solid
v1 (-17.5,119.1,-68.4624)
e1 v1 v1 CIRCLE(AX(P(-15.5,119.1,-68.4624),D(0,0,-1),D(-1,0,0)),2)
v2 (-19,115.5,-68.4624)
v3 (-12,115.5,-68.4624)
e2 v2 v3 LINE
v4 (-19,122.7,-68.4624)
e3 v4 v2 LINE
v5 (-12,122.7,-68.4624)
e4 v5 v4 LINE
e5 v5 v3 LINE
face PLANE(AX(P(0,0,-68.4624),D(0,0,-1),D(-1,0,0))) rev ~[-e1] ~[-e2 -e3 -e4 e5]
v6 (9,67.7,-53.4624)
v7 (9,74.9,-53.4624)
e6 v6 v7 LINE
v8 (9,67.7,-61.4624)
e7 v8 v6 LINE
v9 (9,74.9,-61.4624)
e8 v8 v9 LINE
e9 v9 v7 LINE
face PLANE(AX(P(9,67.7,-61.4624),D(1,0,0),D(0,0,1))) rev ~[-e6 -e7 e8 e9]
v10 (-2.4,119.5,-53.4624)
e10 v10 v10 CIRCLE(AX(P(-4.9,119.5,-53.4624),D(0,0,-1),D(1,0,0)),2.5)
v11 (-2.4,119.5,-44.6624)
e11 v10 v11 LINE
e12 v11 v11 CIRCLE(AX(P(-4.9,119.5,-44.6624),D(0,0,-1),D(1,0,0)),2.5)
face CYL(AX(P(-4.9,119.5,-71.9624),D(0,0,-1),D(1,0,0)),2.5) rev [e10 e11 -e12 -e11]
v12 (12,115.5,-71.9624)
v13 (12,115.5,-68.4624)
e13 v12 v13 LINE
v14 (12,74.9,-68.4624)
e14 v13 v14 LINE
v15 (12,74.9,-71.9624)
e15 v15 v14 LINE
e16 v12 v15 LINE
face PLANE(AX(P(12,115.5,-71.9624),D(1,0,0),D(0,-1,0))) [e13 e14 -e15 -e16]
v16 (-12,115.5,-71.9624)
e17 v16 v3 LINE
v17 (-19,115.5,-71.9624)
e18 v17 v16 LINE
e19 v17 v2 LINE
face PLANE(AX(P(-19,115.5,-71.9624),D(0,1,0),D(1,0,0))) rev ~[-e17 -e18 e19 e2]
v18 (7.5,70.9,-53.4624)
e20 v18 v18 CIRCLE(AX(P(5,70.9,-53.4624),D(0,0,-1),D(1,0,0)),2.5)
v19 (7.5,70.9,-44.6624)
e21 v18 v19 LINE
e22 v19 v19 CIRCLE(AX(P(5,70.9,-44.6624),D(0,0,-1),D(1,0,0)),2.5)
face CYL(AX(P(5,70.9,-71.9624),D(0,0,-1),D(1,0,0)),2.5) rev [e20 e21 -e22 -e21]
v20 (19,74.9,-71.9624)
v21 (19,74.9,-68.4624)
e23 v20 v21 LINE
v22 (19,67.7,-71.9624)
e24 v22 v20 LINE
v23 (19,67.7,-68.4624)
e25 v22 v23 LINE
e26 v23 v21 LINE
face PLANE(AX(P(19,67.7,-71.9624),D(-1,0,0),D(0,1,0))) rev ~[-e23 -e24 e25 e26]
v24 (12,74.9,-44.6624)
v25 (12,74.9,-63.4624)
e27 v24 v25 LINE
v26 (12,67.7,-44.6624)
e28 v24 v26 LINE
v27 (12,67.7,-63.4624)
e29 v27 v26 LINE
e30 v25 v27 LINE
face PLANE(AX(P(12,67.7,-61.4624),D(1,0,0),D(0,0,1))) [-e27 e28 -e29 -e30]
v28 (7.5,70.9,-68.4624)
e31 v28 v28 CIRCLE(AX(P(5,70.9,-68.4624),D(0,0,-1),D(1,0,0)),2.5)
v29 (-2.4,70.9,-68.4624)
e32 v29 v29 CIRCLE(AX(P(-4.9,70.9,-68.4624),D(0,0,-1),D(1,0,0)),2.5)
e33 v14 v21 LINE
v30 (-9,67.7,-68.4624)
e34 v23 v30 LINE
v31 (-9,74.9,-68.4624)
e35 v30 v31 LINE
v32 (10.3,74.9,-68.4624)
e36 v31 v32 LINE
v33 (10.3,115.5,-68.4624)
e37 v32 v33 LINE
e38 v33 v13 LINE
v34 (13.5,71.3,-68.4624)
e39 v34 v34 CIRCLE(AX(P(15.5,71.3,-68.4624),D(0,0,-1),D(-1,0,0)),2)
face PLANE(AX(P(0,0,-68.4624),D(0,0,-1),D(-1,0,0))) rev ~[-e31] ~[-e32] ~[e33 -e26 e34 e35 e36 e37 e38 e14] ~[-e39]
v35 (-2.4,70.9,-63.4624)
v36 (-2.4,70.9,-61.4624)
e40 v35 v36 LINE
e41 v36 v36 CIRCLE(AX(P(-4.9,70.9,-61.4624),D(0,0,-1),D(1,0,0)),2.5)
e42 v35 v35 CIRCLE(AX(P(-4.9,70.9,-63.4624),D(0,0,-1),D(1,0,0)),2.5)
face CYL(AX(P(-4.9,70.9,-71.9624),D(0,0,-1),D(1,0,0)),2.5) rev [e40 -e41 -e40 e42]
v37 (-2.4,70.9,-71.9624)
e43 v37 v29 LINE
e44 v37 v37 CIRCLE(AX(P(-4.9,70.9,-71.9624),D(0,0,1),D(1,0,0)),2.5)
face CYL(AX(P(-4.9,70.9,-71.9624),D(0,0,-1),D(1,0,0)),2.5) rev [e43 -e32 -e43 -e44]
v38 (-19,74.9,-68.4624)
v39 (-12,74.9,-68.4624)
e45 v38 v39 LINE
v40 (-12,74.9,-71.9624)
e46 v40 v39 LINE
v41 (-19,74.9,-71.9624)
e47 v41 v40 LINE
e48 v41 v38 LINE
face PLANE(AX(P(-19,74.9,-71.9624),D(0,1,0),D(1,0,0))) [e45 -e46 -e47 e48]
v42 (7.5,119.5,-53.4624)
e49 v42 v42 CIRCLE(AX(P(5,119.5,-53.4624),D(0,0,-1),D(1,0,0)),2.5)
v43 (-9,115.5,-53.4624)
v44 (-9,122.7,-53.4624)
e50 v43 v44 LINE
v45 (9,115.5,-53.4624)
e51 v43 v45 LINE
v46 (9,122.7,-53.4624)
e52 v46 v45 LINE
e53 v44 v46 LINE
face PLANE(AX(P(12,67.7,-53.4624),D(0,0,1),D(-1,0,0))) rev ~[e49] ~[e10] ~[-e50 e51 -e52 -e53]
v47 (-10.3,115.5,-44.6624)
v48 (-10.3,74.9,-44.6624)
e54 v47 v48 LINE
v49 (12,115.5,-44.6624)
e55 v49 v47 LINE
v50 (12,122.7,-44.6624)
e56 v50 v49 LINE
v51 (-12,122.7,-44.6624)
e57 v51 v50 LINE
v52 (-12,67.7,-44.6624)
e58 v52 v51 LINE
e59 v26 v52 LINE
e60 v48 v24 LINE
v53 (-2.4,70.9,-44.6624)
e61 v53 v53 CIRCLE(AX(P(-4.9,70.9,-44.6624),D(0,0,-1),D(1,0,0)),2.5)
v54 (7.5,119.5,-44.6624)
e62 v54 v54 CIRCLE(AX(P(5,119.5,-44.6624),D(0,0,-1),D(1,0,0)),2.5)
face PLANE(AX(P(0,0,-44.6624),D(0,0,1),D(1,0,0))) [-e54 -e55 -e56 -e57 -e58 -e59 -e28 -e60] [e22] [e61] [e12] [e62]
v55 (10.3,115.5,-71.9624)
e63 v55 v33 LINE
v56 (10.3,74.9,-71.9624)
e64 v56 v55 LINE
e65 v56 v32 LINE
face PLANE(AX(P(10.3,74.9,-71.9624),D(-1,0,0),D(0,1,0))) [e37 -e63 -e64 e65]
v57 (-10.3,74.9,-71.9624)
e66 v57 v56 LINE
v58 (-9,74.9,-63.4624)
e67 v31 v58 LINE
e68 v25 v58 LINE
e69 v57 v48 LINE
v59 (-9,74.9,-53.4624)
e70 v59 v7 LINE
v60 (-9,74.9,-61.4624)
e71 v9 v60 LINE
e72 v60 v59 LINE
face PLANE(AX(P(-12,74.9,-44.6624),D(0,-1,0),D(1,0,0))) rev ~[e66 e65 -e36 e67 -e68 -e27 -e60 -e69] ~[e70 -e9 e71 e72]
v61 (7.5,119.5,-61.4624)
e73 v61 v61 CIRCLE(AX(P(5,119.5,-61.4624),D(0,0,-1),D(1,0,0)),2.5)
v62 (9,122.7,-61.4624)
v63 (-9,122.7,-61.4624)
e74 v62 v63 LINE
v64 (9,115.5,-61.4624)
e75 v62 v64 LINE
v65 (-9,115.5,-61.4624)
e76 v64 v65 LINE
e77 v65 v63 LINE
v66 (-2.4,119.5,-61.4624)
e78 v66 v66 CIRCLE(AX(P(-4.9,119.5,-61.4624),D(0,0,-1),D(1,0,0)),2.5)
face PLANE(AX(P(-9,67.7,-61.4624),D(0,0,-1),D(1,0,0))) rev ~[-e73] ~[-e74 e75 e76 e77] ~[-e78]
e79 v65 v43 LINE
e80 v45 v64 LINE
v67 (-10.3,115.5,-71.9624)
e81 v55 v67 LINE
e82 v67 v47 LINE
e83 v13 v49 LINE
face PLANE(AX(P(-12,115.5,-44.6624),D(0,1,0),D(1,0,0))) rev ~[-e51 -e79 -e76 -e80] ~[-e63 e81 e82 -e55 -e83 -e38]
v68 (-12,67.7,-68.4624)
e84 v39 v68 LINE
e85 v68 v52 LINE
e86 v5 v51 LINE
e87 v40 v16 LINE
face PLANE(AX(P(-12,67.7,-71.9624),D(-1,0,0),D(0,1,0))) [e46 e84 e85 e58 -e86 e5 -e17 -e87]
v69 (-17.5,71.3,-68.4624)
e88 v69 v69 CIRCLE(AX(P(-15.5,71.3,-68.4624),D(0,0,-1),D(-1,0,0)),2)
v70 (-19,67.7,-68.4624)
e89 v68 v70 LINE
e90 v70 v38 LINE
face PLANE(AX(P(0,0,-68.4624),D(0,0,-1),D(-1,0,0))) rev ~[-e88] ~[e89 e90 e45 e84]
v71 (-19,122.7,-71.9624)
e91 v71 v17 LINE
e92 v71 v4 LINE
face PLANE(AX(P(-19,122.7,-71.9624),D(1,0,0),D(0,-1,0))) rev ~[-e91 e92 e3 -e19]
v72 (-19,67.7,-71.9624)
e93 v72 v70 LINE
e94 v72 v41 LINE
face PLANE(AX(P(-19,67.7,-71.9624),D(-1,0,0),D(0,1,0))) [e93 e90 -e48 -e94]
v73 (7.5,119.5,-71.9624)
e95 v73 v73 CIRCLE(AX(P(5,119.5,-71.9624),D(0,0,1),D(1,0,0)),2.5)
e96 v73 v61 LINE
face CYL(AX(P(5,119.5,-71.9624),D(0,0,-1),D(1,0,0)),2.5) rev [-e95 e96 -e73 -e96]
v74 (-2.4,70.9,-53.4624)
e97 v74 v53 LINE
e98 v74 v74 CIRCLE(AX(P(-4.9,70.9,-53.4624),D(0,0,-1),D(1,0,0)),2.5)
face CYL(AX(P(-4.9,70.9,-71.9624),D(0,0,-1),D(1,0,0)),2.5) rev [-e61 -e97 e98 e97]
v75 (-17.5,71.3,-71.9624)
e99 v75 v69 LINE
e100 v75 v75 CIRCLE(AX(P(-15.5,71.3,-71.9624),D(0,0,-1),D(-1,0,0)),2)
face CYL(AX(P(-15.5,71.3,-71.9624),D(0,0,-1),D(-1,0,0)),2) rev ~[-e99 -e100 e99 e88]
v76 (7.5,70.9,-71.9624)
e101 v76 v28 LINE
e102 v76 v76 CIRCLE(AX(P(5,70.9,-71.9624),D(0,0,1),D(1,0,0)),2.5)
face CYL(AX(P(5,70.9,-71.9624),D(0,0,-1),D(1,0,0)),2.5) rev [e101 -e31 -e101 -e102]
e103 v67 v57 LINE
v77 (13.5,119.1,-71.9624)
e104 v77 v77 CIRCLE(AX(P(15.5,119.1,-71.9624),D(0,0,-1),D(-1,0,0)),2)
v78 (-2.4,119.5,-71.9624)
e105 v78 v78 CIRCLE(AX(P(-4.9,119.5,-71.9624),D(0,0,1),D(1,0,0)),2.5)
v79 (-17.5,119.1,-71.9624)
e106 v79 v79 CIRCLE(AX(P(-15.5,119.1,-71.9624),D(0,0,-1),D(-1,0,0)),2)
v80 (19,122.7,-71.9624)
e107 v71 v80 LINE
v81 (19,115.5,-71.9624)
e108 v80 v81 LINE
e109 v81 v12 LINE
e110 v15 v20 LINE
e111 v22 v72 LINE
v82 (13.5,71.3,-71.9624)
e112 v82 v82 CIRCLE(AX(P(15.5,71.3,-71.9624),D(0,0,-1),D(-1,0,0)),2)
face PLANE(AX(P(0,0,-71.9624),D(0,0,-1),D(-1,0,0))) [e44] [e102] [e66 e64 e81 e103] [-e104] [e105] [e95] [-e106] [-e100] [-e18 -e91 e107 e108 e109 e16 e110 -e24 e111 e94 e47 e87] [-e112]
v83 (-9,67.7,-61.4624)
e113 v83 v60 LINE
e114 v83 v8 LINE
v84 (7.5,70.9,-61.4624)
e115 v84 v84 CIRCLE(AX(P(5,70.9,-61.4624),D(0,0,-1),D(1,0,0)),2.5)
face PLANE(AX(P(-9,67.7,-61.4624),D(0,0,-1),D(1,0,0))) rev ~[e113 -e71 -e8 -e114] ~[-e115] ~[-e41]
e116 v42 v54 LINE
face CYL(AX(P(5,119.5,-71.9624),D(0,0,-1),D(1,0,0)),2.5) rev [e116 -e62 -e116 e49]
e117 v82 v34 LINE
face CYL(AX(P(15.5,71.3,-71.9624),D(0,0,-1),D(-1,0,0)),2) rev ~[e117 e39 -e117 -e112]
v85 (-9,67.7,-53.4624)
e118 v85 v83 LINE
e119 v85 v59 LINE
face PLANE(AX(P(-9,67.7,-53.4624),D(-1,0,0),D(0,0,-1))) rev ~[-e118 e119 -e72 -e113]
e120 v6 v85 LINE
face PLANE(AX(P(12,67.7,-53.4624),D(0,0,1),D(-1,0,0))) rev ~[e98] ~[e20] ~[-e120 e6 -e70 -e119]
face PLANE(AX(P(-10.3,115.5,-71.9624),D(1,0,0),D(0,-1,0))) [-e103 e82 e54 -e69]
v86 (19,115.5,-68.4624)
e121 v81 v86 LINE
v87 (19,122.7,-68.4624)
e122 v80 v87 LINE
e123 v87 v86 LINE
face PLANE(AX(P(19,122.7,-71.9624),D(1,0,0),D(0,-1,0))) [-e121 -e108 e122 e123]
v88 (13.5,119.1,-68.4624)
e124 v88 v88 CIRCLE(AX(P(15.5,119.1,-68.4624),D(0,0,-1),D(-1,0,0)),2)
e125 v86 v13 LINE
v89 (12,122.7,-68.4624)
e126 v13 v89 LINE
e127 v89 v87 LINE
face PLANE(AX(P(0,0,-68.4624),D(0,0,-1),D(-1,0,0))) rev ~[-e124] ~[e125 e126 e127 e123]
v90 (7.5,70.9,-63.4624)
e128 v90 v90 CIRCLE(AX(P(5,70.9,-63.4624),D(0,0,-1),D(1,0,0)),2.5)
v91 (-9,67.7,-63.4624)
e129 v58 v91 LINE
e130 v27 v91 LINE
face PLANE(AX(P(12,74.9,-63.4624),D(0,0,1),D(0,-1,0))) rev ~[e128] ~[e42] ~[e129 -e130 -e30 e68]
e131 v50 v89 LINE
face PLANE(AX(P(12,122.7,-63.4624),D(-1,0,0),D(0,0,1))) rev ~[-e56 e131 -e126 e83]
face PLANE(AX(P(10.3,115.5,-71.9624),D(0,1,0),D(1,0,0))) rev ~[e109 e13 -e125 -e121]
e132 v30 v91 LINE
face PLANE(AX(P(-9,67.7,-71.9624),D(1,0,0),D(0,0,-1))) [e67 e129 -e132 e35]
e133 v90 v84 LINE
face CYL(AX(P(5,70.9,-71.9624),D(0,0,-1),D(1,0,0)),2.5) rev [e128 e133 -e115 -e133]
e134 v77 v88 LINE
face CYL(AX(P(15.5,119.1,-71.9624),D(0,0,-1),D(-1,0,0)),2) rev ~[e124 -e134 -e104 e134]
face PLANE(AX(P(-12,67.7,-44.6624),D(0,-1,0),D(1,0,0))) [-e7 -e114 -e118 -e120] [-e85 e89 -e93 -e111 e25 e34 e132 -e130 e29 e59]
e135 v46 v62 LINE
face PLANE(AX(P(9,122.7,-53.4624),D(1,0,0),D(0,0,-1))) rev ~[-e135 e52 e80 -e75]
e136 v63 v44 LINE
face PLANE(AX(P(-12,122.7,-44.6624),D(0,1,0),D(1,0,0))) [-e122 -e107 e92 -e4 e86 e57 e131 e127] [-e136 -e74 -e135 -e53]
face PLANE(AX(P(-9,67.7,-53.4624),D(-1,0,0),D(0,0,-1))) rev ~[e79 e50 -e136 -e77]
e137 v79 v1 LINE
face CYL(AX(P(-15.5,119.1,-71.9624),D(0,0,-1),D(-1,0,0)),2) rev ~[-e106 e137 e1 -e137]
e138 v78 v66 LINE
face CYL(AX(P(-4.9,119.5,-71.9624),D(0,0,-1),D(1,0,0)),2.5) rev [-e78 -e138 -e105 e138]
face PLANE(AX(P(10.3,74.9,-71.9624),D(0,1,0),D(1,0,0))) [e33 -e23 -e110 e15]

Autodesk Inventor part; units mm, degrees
ref_plane "YZ Plane" through (0, 0, 0) normal (1, 0, 0) x (0, 1, 0)
ref_plane "XZ Plane" through (0, 0, 0) normal (0, 1, 0) x (-1, 0, 0)
ref_plane "XY Plane" through (0, 0, 0) normal (0, 0, 1) x (1, 0, 0)
ref_plane "작업 평면1" through (0, 0, -71.9624) normal (0, 0, 1) x (1, 0, 0)
sketch "스케치1" plane through (0, 0, -71.9624) normal (0, 0, 1) x (1, 0, 0)
  line L0 (10, 115.2) -> (10, 75.2) construction
  line L1 (-10, 75.2) -> (-10, 115.2) construction
  line L2 (-10, 115.2) -> (10, 115.2) construction
  line L3 (10, 122.7) -> (-10, 122.7) construction
  line L4 (10, 115.2) -> (10, 122.7) construction
  line L5 (-10, 122.7) -> (-10, 115.2) construction
  circle A0 centre (-4.9, 119.5) radius 2.5 construction
  circle A1 centre (5, 119.5) radius 2.5 construction
  circle A2 centre (5, 70.9) radius 2.5 construction
  circle A3 centre (-4.9, 70.9) radius 2.5 construction
  line L6 (10, 75.2) -> (10, 67.7) construction
  line L7 (10, 67.7) -> (-10, 67.7) construction
  line L8 (-10, 67.7) -> (-10, 75.2) construction
  line L9 (10, 115.2) -> (10, 75.2) projected
  line L10 (-10, 75.2) -> (-10, 115.2) projected
  line L11 (-10, 122.7) -> (-10, 115.2) projected
  line L12 (-10, 115.2) -> (10, 115.2) projected
  line L13 (10, 115.2) -> (10, 122.7) projected
  line L14 (10, 122.7) -> (-10, 122.7) projected
  line L15 (-10, 67.7) -> (-10, 75.2) projected
  line L16 (10, 67.7) -> (-10, 67.7) projected
  line L17 (10, 75.2) -> (10, 67.7) projected
  circle A4 centre (-4.9, 70.9) radius 2.5 projected
  circle A5 centre (5, 70.9) radius 2.5 projected
  line L18 (10, 75.2) -> (-10, 75.2) projected
  circle A6 centre (5, 119.5) radius 2.5 projected
  circle A7 centre (-4.9, 119.5) radius 2.5 projected
  point P0 (0, 0)
ref_plane "작업 평면2" through (0, 0, -71.9624) normal (0, 0, 1) x (1, 0, 0)
sketch "스케치2" plane through (0, 0, -71.9624) normal (0, 0, 1) x (1, 0, 0)
  circle A0 centre (0, 170) radius 2 projected
  circle A1 centre (-73.6122, 42.5) radius 2 projected
  circle A2 centre (73.6122, 42.5) radius 2 projected
  line L0 (-175, 220) -> (-175, 200) projected
  line L1 (-175, 200) -> (-130, 200) projected
  line L2 (-130, 200) -> (-130, 105) projected
  line L3 (-130, 105) -> (-175, 105) projected
  line L4 (-175, 105) -> (-175, -105) projected
  line L5 (-175, -105) -> (-130, -105) projected
  line L6 (-130, -105) -> (-130, -200) projected
  line L7 (-130, -200) -> (-175, -200) projected
  line L8 (-175, -200) -> (-175, -220) projected
  arc A3 (-175, -220) -> (-145, -250) centre (-145, -220) ccw projected
  line L9 (-145, -250) -> (145, -250) projected
  arc A4 (145, -250) -> (175, -220) centre (145, -220) ccw projected
  line L10 (175, -220) -> (175, -200) projected
  line L11 (175, -200) -> (130, -200) projected
  line L12 (130, -200) -> (130, -105) projected
  line L13 (130, -105) -> (175, -105) projected
  line L14 (175, -105) -> (175, 105) projected
  line L15 (175, 105) -> (130, 105) projected
  line L16 (130, 105) -> (130, 200) projected
  line L17 (130, 200) -> (175, 200) projected
  line L18 (175, 200) -> (175, 220) projected
  arc A5 (175, 220) -> (145, 250) centre (145, 220) ccw projected
  line L19 (145, 250) -> (-145, 250) projected
  arc A6 (-145, 250) -> (-175, 220) centre (-145, 220) ccw projected
  circle A7 centre (0, 170) radius 2 projected
  circle A8 centre (-73.6122, 42.5) radius 2 projected
  circle A9 centre (73.6122, 42.5) radius 2 projected
  line L20 (-175, 220) -> (-175, 200) projected
  line L21 (-175, 200) -> (-130, 200) projected
  line L22 (-130, 200) -> (-130, 105) projected
  line L23 (-130, 105) -> (-175, 105) projected
  line L24 (-175, 105) -> (-175, -105) projected
  line L25 (-175, -105) -> (-130, -105) projected
  line L26 (-130, -105) -> (-130, -200) projected
  line L27 (-130, -200) -> (-175, -200) projected
  line L28 (-175, -200) -> (-175, -220) projected
  arc A10 (-175, -220) -> (-145, -250) centre (-145, -220) ccw projected
  line L29 (-145, -250) -> (145, -250) projected
  arc A11 (145, -250) -> (175, -220) centre (145, -220) ccw projected
  line L30 (175, -220) -> (175, -200) projected
  line L31 (175, -200) -> (130, -200) projected
  line L32 (130, -200) -> (130, -105) projected
  line L33 (130, -105) -> (175, -105) projected
  line L34 (175, -105) -> (175, 105) projected
  line L35 (175, 105) -> (130, 105) projected
  line L36 (130, 105) -> (130, 200) projected
  line L37 (130, 200) -> (175, 200) projected
  line L38 (175, 200) -> (175, 220) projected
  arc A12 (175, 220) -> (145, 250) centre (145, 220) ccw projected
  line L39 (145, 250) -> (-145, 250) projected
  arc A13 (-145, 250) -> (-175, 220) centre (-145, 220) ccw projected
  circle A14 centre (0, 170) radius 2 projected
  circle A15 centre (-73.6122, 42.5) radius 2 projected
  circle A16 centre (73.6122, 42.5) radius 2 projected
  line L40 (-175, 220) -> (-175, 200) projected
  line L41 (-175, 200) -> (-130, 200) projected
  line L42 (-130, 200) -> (-130, 105) projected
  line L43 (-130, 105) -> (-175, 105) projected
  line L44 (-175, 105) -> (-175, -105) projected
  line L45 (-175, -105) -> (-130, -105) projected
  line L46 (-130, -105) -> (-130, -200) projected
  line L47 (-130, -200) -> (-175, -200) projected
  line L48 (-175, -200) -> (-175, -220) projected
  arc A17 (-175, -220) -> (-145, -250) centre (-145, -220) ccw projected
  line L49 (-145, -250) -> (145, -250) projected
  arc A18 (145, -250) -> (175, -220) centre (145, -220) ccw projected
  line L50 (175, -220) -> (175, -200) projected
  line L51 (175, -200) -> (130, -200) projected
  line L52 (130, -200) -> (130, -105) projected
  line L53 (130, -105) -> (175, -105) projected
  line L54 (175, -105) -> (175, 105) projected
  line L55 (175, 105) -> (130, 105) projected
  line L56 (130, 105) -> (130, 200) projected
  line L57 (130, 200) -> (175, 200) projected
  line L58 (175, 200) -> (175, 220) projected
  arc A19 (175, 220) -> (145, 250) centre (145, 220) ccw projected
  line L59 (145, 250) -> (-145, 250) projected
  arc A20 (-145, 250) -> (-175, 220) centre (-145, 220) ccw projected
  circle A21 centre (-4.9, 70.9) radius 2.5 projected
  circle A22 centre (-4.9, 70.9) radius 2.5 projected
  circle A23 centre (5, 70.9) radius 2.5 projected
  circle A24 centre (5, 119.5) radius 2.5 projected
  circle A25 centre (-4.9, 119.5) radius 2.5 projected
  arc A26 (175, 220) -> (145, 250) centre (145, 220) ccw projected
  line L60 (-145, 250) -> (145, 250) projected
  arc A27 (-145, 250) -> (-175, 220) centre (-145, 220) ccw projected
  line L61 (-175, -220) -> (-175, 220) projected
  arc A28 (-175, -220) -> (-145, -250) centre (-145, -220) ccw projected
  line L62 (145, -250) -> (-145, -250) projected
  arc A29 (145, -250) -> (175, -220) centre (145, -220) ccw projected
  line L63 (175, 220) -> (175, -220) projected
  circle A30 centre (0, -175) radius 36 projected
  circle A31 centre (0, 85) radius 103.75 projected
  line L64 (10, 75.2) -> (-10, 75.2)
  line L65 (-10, 75.2) -> (-10, 115.2)
  line L66 (-10, 115.2) -> (10, 115.2)
  line L67 (10, 115.2) -> (10, 75.2)
  line L68 (10.3, 74.9) -> (10.3, 115.5)
  line L69 (10.3, 115.5) -> (-10.3, 115.5)
  line L70 (-10.3, 115.5) -> (-10.3, 74.9)
  line L71 (-10.3, 74.9) -> (10.3, 74.9)
  line L72 (12, 67.7) -> (-12, 67.7)
  line L73 (-12, 67.7) -> (-12, 122.7)
  line L74 (-12, 122.7) -> (12, 122.7)
  line L75 (12, 122.7) -> (12, 67.7)
  line L76 (10, 95.2) -> (-10, 95.2) construction
  line L77 (0, 95.2) -> (0, 75.2) construction
  line L78 (10.3, 74.9) -> (12, 74.9)
  line L79 (10.3, 115.5) -> (12, 115.5)
  circle A32 centre (-4.9, 119.5) radius 2
  circle A33 centre (5, 119.5) radius 2
  circle A34 centre (-4.9, 70.9) radius 2
  circle A35 centre (5, 70.9) radius 2
  circle A36 centre (-123, 166.7672) radius 2 projected
  circle A37 centre (122.9975, 135.7594) radius 2 projected
  circle A38 centre (97.9975, -135.761) radius 2 projected
  circle A39 centre (15.5, 71.3) radius 2 projected
  circle A40 centre (165.0067, -210) radius 2.5 projected
  circle A41 centre (119.0003, -180.2596) radius 1.25 projected
  circle A42 centre (-119, -122.2672) radius 1.25 projected
  circle A43 centre (-123, -135.7672) radius 2 projected
  circle A44 centre (0.0196, 140) radius 2 projected
  circle A45 centre (-123, -166.7672) radius 2 projected
  circle A46 centre (-70, -122.2672) radius 1.25 projected
  circle A47 centre (69.9966, -122.2627) radius 1.25 projected
  circle A48 centre (-165, 0) radius 2.5 projected
  circle A49 centre (-165.0067, 210) radius 2.5 projected
  circle A50 centre (-15.5, 119.1) radius 2 projected
  circle A51 centre (97.9995, -166.761) radius 2 projected
  circle A52 centre (97.9995, 166.761) radius 2 projected
  circle A53 centre (-98, 166.7672) radius 2 projected
  circle A54 centre (-123, 135.7672) radius 2 projected
  circle A55 centre (97.9975, 135.761) radius 2 projected
  circle A56 centre (122.9975, -135.7594) radius 2 projected
  circle A57 centre (-15.5, 71.3) radius 2 projected
  circle A58 centre (-164.9933, -210) radius 2.5 projected
  circle A59 centre (70.0003, -180.2627) radius 1.25 projected
  circle A60 centre (-119, -180.2672) radius 1.25 projected
  circle A61 centre (-98, -135.7672) radius 2 projected
  circle A62 centre (47.6216, 57.483) radius 2 projected
  circle A63 centre (-47.6412, 57.517) radius 2 projected
  circle A64 centre (-98, -166.7672) radius 2 projected
  circle A65 centre (-70, -180.2672) radius 1.25 projected
  circle A66 centre (118.9966, -122.2596) radius 1.25 projected
  circle A67 centre (165, 0) radius 2.5 projected
  circle A68 centre (164.9933, 210) radius 2.5 projected
  circle A69 centre (15.5, 119.1) radius 2 projected
  circle A70 centre (122.9995, -166.7594) radius 2 projected
  circle A71 centre (122.9995, 166.7594) radius 2 projected
  circle A72 centre (-98, 135.7672) radius 2 projected
  circle A73 centre (-123, 166.7672) radius 2 projected
  circle A74 centre (122.9975, 135.7594) radius 2 projected
  circle A75 centre (97.9975, -135.761) radius 2 projected
  circle A76 centre (15.5, 71.3) radius 2 projected
  circle A77 centre (165.0067, -210) radius 2.5 projected
  circle A78 centre (119.0003, -180.2596) radius 1.25 projected
  circle A79 centre (-119, -122.2672) radius 1.25 projected
  circle A80 centre (-123, -135.7672) radius 2 projected
  circle A81 centre (0.0196, 140) radius 2 projected
  circle A82 centre (-123, -166.7672) radius 2 projected
  circle A83 centre (-70, -122.2672) radius 1.25 projected
  circle A84 centre (69.9966, -122.2627) radius 1.25 projected
  circle A85 centre (-165, 0) radius 2.5 projected
  circle A86 centre (-165.0067, 210) radius 2.5 projected
  circle A87 centre (-15.5, 119.1) radius 2 projected
  circle A88 centre (97.9995, -166.761) radius 2 projected
  circle A89 centre (97.9995, 166.761) radius 2 projected
  circle A90 centre (-98, 166.7672) radius 2 projected
  circle A91 centre (-123, 135.7672) radius 2 projected
  circle A92 centre (97.9975, 135.761) radius 2 projected
  circle A93 centre (122.9975, -135.7594) radius 2 projected
  circle A94 centre (-15.5, 71.3) radius 2 projected
  circle A95 centre (-164.9933, -210) radius 2.5 projected
  circle A96 centre (70.0003, -180.2627) radius 1.25 projected
  circle A97 centre (-119, -180.2672) radius 1.25 projected
  circle A98 centre (-98, -135.7672) radius 2 projected
  circle A99 centre (47.6216, 57.483) radius 2 projected
  circle A100 centre (-47.6412, 57.517) radius 2 projected
  circle A101 centre (-98, -166.7672) radius 2 projected
  circle A102 centre (-70, -180.2672) radius 1.25 projected
  circle A103 centre (118.9966, -122.2596) radius 1.25 projected
  circle A104 centre (165, 0) radius 2.5 projected
  circle A105 centre (164.9933, 210) radius 2.5 projected
  circle A106 centre (15.5, 119.1) radius 2 projected
  circle A107 centre (122.9995, -166.7594) radius 2 projected
  circle A108 centre (122.9995, 166.7594) radius 2 projected
  circle A109 centre (-98, 135.7672) radius 2 projected
  circle A110 centre (-123, 166.7672) radius 2 projected
  circle A111 centre (122.9975, 135.7594) radius 2 projected
  circle A112 centre (97.9975, -135.761) radius 2 projected
  circle A113 centre (15.5, 71.3) radius 2 projected
  circle A114 centre (165.0067, -210) radius 2.5 projected
  circle A115 centre (119.0003, -180.2596) radius 1.25 projected
  circle A116 centre (-119, -122.2672) radius 1.25 projected
  circle A117 centre (-123, -135.7672) radius 2 projected
  circle A118 centre (0.0196, 140) radius 2 projected
  circle A119 centre (-123, -166.7672) radius 2 projected
  circle A120 centre (-70, -122.2672) radius 1.25 projected
  circle A121 centre (69.9966, -122.2627) radius 1.25 projected
  circle A122 centre (-165, 0) radius 2.5 projected
  circle A123 centre (-165.0067, 210) radius 2.5 projected
  circle A124 centre (-15.5, 119.1) radius 2 projected
  circle A125 centre (97.9995, -166.761) radius 2 projected
  circle A126 centre (97.9995, 166.761) radius 2 projected
  circle A127 centre (-98, 166.7672) radius 2 projected
  circle A128 centre (-123, 135.7672) radius 2 projected
  circle A129 centre (97.9975, 135.761) radius 2 projected
  circle A130 centre (122.9975, -135.7594) radius 2 projected
  circle A131 centre (-15.5, 71.3) radius 2 projected
  circle A132 centre (-164.9933, -210) radius 2.5 projected
  circle A133 centre (70.0003, -180.2627) radius 1.25 projected
  circle A134 centre (-119, -180.2672) radius 1.25 projected
  circle A135 centre (-98, -135.7672) radius 2 projected
  circle A136 centre (47.6216, 57.483) radius 2 projected
  circle A137 centre (-47.6412, 57.517) radius 2 projected
  circle A138 centre (-98, -166.7672) radius 2 projected
  circle A139 centre (-70, -180.2672) radius 1.25 projected
  circle A140 centre (118.9966, -122.2596) radius 1.25 projected
  circle A141 centre (165, 0) radius 2.5 projected
  circle A142 centre (164.9933, 210) radius 2.5 projected
  circle A143 centre (15.5, 119.1) radius 2 projected
  circle A144 centre (122.9995, -166.7594) radius 2 projected
  circle A145 centre (122.9995, 166.7594) radius 2 projected
  circle A146 centre (-98, 135.7672) radius 2 projected
  line L80 (-110, 97.5) -> (-93, 97.5) projected
  line L81 (-93, 97.5) -> (-93, 89.5) projected
  line L82 (-93, 89.5) -> (-110, 89.5) projected
  line L83 (-110, 89.5) -> (-110, 97.5) projected
  circle A147 centre (148, -23.75) radius 2 projected
  circle A148 centre (130.626, -27.584) radius 1.5 projected
  circle A149 centre (118.5, 61.5) radius 1.5 projected
  circle A150 centre (-118.5, 61.5) radius 1.5 projected
  circle A151 centre (21, -158.9548) radius 2 projected
  circle A152 centre (-22, -53) radius 2 projected
  circle A153 centre (-49.5, -194.9548) radius 2 projected
  circle A154 centre (-49.5, -158.9548) radius 2 projected
  circle A155 centre (21, -194.9548) radius 2 projected
  circle A156 centre (-155, 25) radius 1.5 projected
  circle A157 centre (118.5, 25) radius 1.5 projected
  circle A158 centre (123.133, -76) radius 1.5 projected
  circle A159 centre (37, -84) radius 2 projected
  line L84 (-93, -89.5) -> (-93, -97.5) projected
  line L85 (-93, -97.5) -> (-110, -97.5) projected
  line L86 (-110, -97.5) -> (-110, -89.5) projected
  line L87 (-110, -89.5) -> (-93, -89.5) projected
  circle A160 centre (-130, 5) radius 6 projected
  line L88 (110, 89.5) -> (93, 89.5) projected
  line L89 (93, 89.5) -> (93, 97.5) projected
  line L90 (93, 97.5) -> (110, 97.5) projected
  line L91 (110, 97.5) -> (110, 89.5) projected
  circle A161 centre (148, -84) radius 2 projected
  circle A162 centre (47.999, -27.584) radius 1.5 projected
  circle A163 centre (155, 61.5) radius 1.5 projected
  circle A164 centre (-155, 61.5) radius 1.5 projected
  circle A165 centre (49.5, -158.9548) radius 2 projected
  circle A166 centre (-86, -93.5) radius 2 projected
  circle A167 centre (-21, -194.9548) radius 2 projected
  circle A168 centre (-150, -53) radius 2 projected
  circle A169 centre (-21, -158.9548) radius 2 projected
  circle A170 centre (49.5, -194.9548) radius 2 projected
  circle A171 centre (-118.5, 25) radius 1.5 projected
  circle A172 centre (155, 25) radius 1.5 projected
  circle A173 centre (48, -76) radius 1.5 projected
  circle A174 centre (37, -23.75) radius 2 projected
  line L92 (110, -89.5) -> (110, -97.5) projected
  line L93 (110, -97.5) -> (93, -97.5) projected
  line L94 (93, -97.5) -> (93, -89.5) projected
  line L95 (93, -89.5) -> (110, -89.5) projected
  circle A175 centre (-70, 5) radius 6 projected
  line L96 (-110, 97.5) -> (-93, 97.5) projected
  line L97 (-93, 97.5) -> (-93, 89.5) projected
  line L98 (-93, 89.5) -> (-110, 89.5) projected
  line L99 (-110, 89.5) -> (-110, 97.5) projected
  circle A176 centre (148, -23.75) radius 2 projected
  circle A177 centre (130.626, -27.584) radius 1.5 projected
  circle A178 centre (118.5, 61.5) radius 1.5 projected
  circle A179 centre (-118.5, 61.5) radius 1.5 projected
  circle A180 centre (21, -158.9548) radius 2 projected
  circle A181 centre (-22, -53) radius 2 projected
  circle A182 centre (-49.5, -194.9548) radius 2 projected
  circle A183 centre (-49.5, -158.9548) radius 2 projected
  circle A184 centre (21, -194.9548) radius 2 projected
  circle A185 centre (-155, 25) radius 1.5 projected
  circle A186 centre (118.5, 25) radius 1.5 projected
  circle A187 centre (123.133, -76) radius 1.5 projected
  circle A188 centre (37, -84) radius 2 projected
  line L100 (-93, -89.5) -> (-93, -97.5) projected
  line L101 (-93, -97.5) -> (-110, -97.5) projected
  line L102 (-110, -97.5) -> (-110, -89.5) projected
  line L103 (-110, -89.5) -> (-93, -89.5) projected
  circle A189 centre (-130, 5) radius 6 projected
  line L104 (110, 89.5) -> (93, 89.5) projected
  line L105 (93, 89.5) -> (93, 97.5) projected
  line L106 (93, 97.5) -> (110, 97.5) projected
  line L107 (110, 97.5) -> (110, 89.5) projected
  circle A190 centre (148, -84) radius 2 projected
  circle A191 centre (47.999, -27.584) radius 1.5 projected
  circle A192 centre (155, 61.5) radius 1.5 projected
  circle A193 centre (-155, 61.5) radius 1.5 projected
  circle A194 centre (49.5, -158.9548) radius 2 projected
  circle A195 centre (-86, -93.5) radius 2 projected
  circle A196 centre (-21, -194.9548) radius 2 projected
  circle A197 centre (-150, -53) radius 2 projected
  circle A198 centre (-21, -158.9548) radius 2 projected
  circle A199 centre (49.5, -194.9548) radius 2 projected
  circle A200 centre (-118.5, 25) radius 1.5 projected
  circle A201 centre (155, 25) radius 1.5 projected
  circle A202 centre (48, -76) radius 1.5 projected
  circle A203 centre (37, -23.75) radius 2 projected
  line L108 (110, -89.5) -> (110, -97.5) projected
  line L109 (110, -97.5) -> (93, -97.5) projected
  line L110 (93, -97.5) -> (93, -89.5) projected
  line L111 (93, -89.5) -> (110, -89.5) projected
  circle A204 centre (-70, 5) radius 6 projected
  line L112 (-110, 97.5) -> (-93, 97.5) projected
  line L113 (-93, 97.5) -> (-93, 89.5) projected
  line L114 (-93, 89.5) -> (-110, 89.5) projected
  line L115 (-110, 89.5) -> (-110, 97.5) projected
  circle A205 centre (148, -23.75) radius 2 projected
  circle A206 centre (130.626, -27.584) radius 1.5 projected
  circle A207 centre (118.5, 61.5) radius 1.5 projected
  circle A208 centre (-118.5, 61.5) radius 1.5 projected
  circle A209 centre (21, -158.9548) radius 2 projected
  circle A210 centre (-22, -53) radius 2 projected
  circle A211 centre (-49.5, -194.9548) radius 2 projected
  circle A212 centre (-49.5, -158.9548) radius 2 projected
  circle A213 centre (21, -194.9548) radius 2 projected
  circle A214 centre (-155, 25) radius 1.5 projected
  circle A215 centre (118.5, 25) radius 1.5 projected
  circle A216 centre (123.133, -76) radius 1.5 projected
  circle A217 centre (37, -84) radius 2 projected
  line L116 (-93, -89.5) -> (-93, -97.5) projected
  line L117 (-93, -97.5) -> (-110, -97.5) projected
  line L118 (-110, -97.5) -> (-110, -89.5) projected
  line L119 (-110, -89.5) -> (-93, -89.5) projected
  circle A218 centre (-130, 5) radius 6 projected
  line L120 (110, 89.5) -> (93, 89.5) projected
  line L121 (93, 89.5) -> (93, 97.5) projected
  line L122 (93, 97.5) -> (110, 97.5) projected
  line L123 (110, 97.5) -> (110, 89.5) projected
  circle A219 centre (148, -84) radius 2 projected
  circle A220 centre (47.999, -27.584) radius 1.5 projected
  circle A221 centre (155, 61.5) radius 1.5 projected
  circle A222 centre (-155, 61.5) radius 1.5 projected
  circle A223 centre (49.5, -158.9548) radius 2 projected
  circle A224 centre (-86, -93.5) radius 2 projected
  circle A225 centre (-21, -194.9548) radius 2 projected
  circle A226 centre (-150, -53) radius 2 projected
  circle A227 centre (-21, -158.9548) radius 2 projected
  circle A228 centre (49.5, -194.9548) radius 2 projected
  circle A229 centre (-118.5, 25) radius 1.5 projected
  circle A230 centre (155, 25) radius 1.5 projected
  circle A231 centre (48, -76) radius 1.5 projected
  circle A232 centre (37, -23.75) radius 2 projected
  line L124 (110, -89.5) -> (110, -97.5) projected
  line L125 (110, -97.5) -> (93, -97.5) projected
  line L126 (93, -97.5) -> (93, -89.5) projected
  line L127 (93, -89.5) -> (110, -89.5) projected
  circle A233 centre (-70, 5) radius 6 projected
  circle A234 centre (0, -216.4634) radius 1.5 projected
  circle A235 centre (28.4775, -136.4634) radius 1.5 projected
  circle A236 centre (-28.4775, -136.4634) radius 1.5 projected
  circle A237 centre (0, -216.4634) radius 1.5 projected
  circle A238 centre (28.4775, -136.4634) radius 1.5 projected
  circle A239 centre (-28.4775, -136.4634) radius 1.5 projected
  circle A240 centre (0, -216.4634) radius 1.5 projected
  circle A241 centre (28.4775, -136.4634) radius 1.5 projected
  circle A242 centre (-28.4775, -136.4634) radius 1.5 projected
  circle A243 centre (-165, 210) radius 2.5 projected
  circle A244 centre (165, 210) radius 2.5 projected
  circle A245 centre (-165, 0) radius 2.5 projected
  circle A246 centre (165, 0) radius 2.5 projected
  circle A247 centre (165, -210) radius 2.5 projected
  circle A248 centre (-165, -210) radius 2.5 projected
  point P0 (0, 0)
  point P1 (10, 67.7)
  dimension "d4" = 0.3
  dimension "d5" = 0.3
  dimension "d6" = 0.3
  dimension "d7" = 55
  dimension "d8" = 2
  dimension "d9" = 27.5
  dimension "d23" = 4
  dimension "d24" = 4
  dimension "d25" = 4
  dimension "d26" = 4
extrude "돌출1" add sketch "스케치2" along normal blind 27.3 contours A21 | A23 | A24 | A25 | L78 L75 L72 L73 L74 L79 L69 L70 L71 | A32 | A33 | A34 | A35
sketch "스케치3" plane through (12, 67.7, -71.9624) normal (1, 0, 0) x (0, 0, -1)
  line L0 (0, 0) -> (0, 7.2) projected
  line L1 (0, 7.2) -> (-27.3, 7.2) projected
  line L2 (0, 0) -> (-27.3, 0) projected
  line L3 (-8.5, 0) -> (-3.5, 0)
  line L4 (-3.5, 0) -> (-3.5, 7.2)
  line L5 (-3.5, 7.2) -> (-8.5, 7.2)
  line L6 (-8.5, 7.2) -> (-8.5, 0)
  point P0 (-71.9624, -67.7)
  point P1 (-8.5, 0)
  point P2 (-3.5, 0)
  dimension "d12" = 5
  dimension "d13" = 3.5
extrude "돌출2" cut sketch "스케치3" against normal blind 21 contours L2 L6 L1 L4
sketch "스케치4" plane through (0, 0, -71.9624) normal (0, 0, -1) x (-1, 0, 0)
  line L0 (-12, 74.9) -> (10.3, 74.9) projected
  line L1 (-12, 67.7) -> (-12, 74.9) projected
  line L2 (12, 67.7) -> (-12, 67.7) projected
  line L3 (12, 122.7) -> (12, 67.7) projected
  line L4 (-12, 115.5) -> (-12, 122.7) projected
  line L5 (-12, 67.7) -> (-19, 67.7)
  line L6 (-19, 67.7) -> (-19, 74.9)
  line L7 (-19, 74.9) -> (-12, 74.9)
  line L8 (-12, 74.9) -> (-12, 67.7)
  circle A0 centre (-15.5, 71.3) radius 2
  line L9 (0, 67.7) -> (0, 122.7) construction
  line L10 (-12, 122.7) -> (12, 122.7) projected
  line L11 (-10, 95.2) -> (12, 95.2) construction
  line L12 (-10, 115.2) -> (-10, 75.2) construction
  line L13 (-12, 122.7) -> (-12, 115.5)
  line L14 (-12, 122.7) -> (-19, 122.7)
  line L15 (-19, 122.7) -> (-19, 115.5)
  line L16 (-19, 115.5) -> (-12, 115.5)
  circle A1 centre (-15.5, 119.1) radius 2
  line L17 (12, 67.7) -> (12, 74.9)
  line L18 (12, 115.5) -> (12, 122.7)
  line L19 (12, 67.7) -> (19, 67.7)
  line L20 (19, 67.7) -> (19, 74.9)
  line L21 (19, 74.9) -> (12, 74.9)
  line L22 (12, 74.9) -> (12, 67.7)
  circle A2 centre (15.5, 71.3) radius 2
  line L23 (19, 115.5) -> (12, 115.5)
  line L24 (19, 122.7) -> (19, 115.5)
  line L25 (12, 122.7) -> (19, 122.7)
  circle A3 centre (15.5, 119.1) radius 2
  line L26 (12, 122.7) -> (12, 115.5)
  point P0 (0, 0)
  point P1 (-12, 115.5)
  point P2 (-12, 74.9)
  dimension "d16" = 7
  dimension "d18" = 4
  dimension "d19" = 3.6
  dimension "d20" = 3.5
extrude "돌출3" add sketch "스케치4" against normal blind 3.5
ref_plane "작업 평면3" through (0, 0, -71.9624) normal (0, 0, 1) x (1, 0, 0)
extrude "돌출4" cut sketch "스케치1" along normal through all contours A4 | A5 | A6 | A7
sketch "스케치5" plane through (-12, 67.7, -44.6624) normal (0, -1, 0) x (1, 0, 0)
  line L0 (3, -18.8) -> (24, -18.8) projected
  line L1 (24, -18.8) -> (24, 0) projected
  line L2 (3, -18.8) -> (24, -18.8)
  line L3 (24, -18.8) -> (24, -8.8)
  line L4 (24, -8.8) -> (3, -8.8)
  line L5 (3, -8.8) -> (3, -16.8)
  line L6 (3, -23.8) -> (3, -18.8) projected
  line L7 (3, -16.8) -> (24, -16.8)
  point P0 (12, 44.6624)
  dimension "d36" = 2
  dimension "d37" = 8
extrude "돌출5" cut sketch "스케치5" against normal through all
sketch "스케치6" plane through (0, 0, -71.9624) normal (0, 0, -1) x (-1, 0, 0)
  line L0 (10.3, 115.5) -> (-19, 115.5) projected
  line L1 (10.3, 74.9) -> (-19, 74.9) projected
  line L2 (-19, 67.7) -> (19, 67.7) projected
  line L3 (-12, 122.7) -> (12, 122.7) projected
  line L4 (0, 122.7) -> (0, 67.7) construction
  line L5 (-10.3, 74.9) -> (-10.3, 115.5)
  line L6 (-12, 115.5) -> (-12, 74.9)
  point P0 (12, 74.9)
  point P1 (12, 115.5)
  point P2 (0, 0)
  point P3 (-10.3, 115.5)
  point P4 (-12, 74.9)
extrude "돌출6" add sketch "스케치6" against normal blind 3.5
sketch "스케치7" plane through (-12, 122.7, -44.6624) normal (0, 1, 0) x (1, 0, 0)
  line L0 (24, 8.8) -> (3, 8.8) projected
  line L1 (3, 8.8) -> (3, 16.8) projected
  line L2 (3, 18.8) -> (24, 18.8) projected
  line L3 (0, 23.8) -> (0, 0) projected
  line L4 (24, 0) -> (0, 0) projected
  line L5 (12, -44.6624) -> (12, 0) construction
  line L6 (21, 8.8) -> (21, 18.8)
  line L7 (24, 23.8) -> (24, 0)
  point P0 (24, 8.8)
extrude "돌출7" add sketch "스케치7" against normal up to surface (7.2 mm away)
sketch "스케치8" plane through (-12, 67.7, -44.6624) normal (0, -1, 0) x (1, 0, 0)
  line L0 (24, -16.8) -> (3, -16.8) projected
  line L1 (3, -8.8) -> (24, -8.8) projected
  line L2 (21, -16.8) -> (21, -8.8) projected
  line L3 (24, -23.8) -> (24, 0) projected
  line L4 (24, -23.8) -> (24, -27.3) projected
  point P0 (12, 44.6624)
extrude "돌출8" add sketch "스케치8" against normal up to surface (7.2 mm away)
properties part number "yaw_motor_mount"
